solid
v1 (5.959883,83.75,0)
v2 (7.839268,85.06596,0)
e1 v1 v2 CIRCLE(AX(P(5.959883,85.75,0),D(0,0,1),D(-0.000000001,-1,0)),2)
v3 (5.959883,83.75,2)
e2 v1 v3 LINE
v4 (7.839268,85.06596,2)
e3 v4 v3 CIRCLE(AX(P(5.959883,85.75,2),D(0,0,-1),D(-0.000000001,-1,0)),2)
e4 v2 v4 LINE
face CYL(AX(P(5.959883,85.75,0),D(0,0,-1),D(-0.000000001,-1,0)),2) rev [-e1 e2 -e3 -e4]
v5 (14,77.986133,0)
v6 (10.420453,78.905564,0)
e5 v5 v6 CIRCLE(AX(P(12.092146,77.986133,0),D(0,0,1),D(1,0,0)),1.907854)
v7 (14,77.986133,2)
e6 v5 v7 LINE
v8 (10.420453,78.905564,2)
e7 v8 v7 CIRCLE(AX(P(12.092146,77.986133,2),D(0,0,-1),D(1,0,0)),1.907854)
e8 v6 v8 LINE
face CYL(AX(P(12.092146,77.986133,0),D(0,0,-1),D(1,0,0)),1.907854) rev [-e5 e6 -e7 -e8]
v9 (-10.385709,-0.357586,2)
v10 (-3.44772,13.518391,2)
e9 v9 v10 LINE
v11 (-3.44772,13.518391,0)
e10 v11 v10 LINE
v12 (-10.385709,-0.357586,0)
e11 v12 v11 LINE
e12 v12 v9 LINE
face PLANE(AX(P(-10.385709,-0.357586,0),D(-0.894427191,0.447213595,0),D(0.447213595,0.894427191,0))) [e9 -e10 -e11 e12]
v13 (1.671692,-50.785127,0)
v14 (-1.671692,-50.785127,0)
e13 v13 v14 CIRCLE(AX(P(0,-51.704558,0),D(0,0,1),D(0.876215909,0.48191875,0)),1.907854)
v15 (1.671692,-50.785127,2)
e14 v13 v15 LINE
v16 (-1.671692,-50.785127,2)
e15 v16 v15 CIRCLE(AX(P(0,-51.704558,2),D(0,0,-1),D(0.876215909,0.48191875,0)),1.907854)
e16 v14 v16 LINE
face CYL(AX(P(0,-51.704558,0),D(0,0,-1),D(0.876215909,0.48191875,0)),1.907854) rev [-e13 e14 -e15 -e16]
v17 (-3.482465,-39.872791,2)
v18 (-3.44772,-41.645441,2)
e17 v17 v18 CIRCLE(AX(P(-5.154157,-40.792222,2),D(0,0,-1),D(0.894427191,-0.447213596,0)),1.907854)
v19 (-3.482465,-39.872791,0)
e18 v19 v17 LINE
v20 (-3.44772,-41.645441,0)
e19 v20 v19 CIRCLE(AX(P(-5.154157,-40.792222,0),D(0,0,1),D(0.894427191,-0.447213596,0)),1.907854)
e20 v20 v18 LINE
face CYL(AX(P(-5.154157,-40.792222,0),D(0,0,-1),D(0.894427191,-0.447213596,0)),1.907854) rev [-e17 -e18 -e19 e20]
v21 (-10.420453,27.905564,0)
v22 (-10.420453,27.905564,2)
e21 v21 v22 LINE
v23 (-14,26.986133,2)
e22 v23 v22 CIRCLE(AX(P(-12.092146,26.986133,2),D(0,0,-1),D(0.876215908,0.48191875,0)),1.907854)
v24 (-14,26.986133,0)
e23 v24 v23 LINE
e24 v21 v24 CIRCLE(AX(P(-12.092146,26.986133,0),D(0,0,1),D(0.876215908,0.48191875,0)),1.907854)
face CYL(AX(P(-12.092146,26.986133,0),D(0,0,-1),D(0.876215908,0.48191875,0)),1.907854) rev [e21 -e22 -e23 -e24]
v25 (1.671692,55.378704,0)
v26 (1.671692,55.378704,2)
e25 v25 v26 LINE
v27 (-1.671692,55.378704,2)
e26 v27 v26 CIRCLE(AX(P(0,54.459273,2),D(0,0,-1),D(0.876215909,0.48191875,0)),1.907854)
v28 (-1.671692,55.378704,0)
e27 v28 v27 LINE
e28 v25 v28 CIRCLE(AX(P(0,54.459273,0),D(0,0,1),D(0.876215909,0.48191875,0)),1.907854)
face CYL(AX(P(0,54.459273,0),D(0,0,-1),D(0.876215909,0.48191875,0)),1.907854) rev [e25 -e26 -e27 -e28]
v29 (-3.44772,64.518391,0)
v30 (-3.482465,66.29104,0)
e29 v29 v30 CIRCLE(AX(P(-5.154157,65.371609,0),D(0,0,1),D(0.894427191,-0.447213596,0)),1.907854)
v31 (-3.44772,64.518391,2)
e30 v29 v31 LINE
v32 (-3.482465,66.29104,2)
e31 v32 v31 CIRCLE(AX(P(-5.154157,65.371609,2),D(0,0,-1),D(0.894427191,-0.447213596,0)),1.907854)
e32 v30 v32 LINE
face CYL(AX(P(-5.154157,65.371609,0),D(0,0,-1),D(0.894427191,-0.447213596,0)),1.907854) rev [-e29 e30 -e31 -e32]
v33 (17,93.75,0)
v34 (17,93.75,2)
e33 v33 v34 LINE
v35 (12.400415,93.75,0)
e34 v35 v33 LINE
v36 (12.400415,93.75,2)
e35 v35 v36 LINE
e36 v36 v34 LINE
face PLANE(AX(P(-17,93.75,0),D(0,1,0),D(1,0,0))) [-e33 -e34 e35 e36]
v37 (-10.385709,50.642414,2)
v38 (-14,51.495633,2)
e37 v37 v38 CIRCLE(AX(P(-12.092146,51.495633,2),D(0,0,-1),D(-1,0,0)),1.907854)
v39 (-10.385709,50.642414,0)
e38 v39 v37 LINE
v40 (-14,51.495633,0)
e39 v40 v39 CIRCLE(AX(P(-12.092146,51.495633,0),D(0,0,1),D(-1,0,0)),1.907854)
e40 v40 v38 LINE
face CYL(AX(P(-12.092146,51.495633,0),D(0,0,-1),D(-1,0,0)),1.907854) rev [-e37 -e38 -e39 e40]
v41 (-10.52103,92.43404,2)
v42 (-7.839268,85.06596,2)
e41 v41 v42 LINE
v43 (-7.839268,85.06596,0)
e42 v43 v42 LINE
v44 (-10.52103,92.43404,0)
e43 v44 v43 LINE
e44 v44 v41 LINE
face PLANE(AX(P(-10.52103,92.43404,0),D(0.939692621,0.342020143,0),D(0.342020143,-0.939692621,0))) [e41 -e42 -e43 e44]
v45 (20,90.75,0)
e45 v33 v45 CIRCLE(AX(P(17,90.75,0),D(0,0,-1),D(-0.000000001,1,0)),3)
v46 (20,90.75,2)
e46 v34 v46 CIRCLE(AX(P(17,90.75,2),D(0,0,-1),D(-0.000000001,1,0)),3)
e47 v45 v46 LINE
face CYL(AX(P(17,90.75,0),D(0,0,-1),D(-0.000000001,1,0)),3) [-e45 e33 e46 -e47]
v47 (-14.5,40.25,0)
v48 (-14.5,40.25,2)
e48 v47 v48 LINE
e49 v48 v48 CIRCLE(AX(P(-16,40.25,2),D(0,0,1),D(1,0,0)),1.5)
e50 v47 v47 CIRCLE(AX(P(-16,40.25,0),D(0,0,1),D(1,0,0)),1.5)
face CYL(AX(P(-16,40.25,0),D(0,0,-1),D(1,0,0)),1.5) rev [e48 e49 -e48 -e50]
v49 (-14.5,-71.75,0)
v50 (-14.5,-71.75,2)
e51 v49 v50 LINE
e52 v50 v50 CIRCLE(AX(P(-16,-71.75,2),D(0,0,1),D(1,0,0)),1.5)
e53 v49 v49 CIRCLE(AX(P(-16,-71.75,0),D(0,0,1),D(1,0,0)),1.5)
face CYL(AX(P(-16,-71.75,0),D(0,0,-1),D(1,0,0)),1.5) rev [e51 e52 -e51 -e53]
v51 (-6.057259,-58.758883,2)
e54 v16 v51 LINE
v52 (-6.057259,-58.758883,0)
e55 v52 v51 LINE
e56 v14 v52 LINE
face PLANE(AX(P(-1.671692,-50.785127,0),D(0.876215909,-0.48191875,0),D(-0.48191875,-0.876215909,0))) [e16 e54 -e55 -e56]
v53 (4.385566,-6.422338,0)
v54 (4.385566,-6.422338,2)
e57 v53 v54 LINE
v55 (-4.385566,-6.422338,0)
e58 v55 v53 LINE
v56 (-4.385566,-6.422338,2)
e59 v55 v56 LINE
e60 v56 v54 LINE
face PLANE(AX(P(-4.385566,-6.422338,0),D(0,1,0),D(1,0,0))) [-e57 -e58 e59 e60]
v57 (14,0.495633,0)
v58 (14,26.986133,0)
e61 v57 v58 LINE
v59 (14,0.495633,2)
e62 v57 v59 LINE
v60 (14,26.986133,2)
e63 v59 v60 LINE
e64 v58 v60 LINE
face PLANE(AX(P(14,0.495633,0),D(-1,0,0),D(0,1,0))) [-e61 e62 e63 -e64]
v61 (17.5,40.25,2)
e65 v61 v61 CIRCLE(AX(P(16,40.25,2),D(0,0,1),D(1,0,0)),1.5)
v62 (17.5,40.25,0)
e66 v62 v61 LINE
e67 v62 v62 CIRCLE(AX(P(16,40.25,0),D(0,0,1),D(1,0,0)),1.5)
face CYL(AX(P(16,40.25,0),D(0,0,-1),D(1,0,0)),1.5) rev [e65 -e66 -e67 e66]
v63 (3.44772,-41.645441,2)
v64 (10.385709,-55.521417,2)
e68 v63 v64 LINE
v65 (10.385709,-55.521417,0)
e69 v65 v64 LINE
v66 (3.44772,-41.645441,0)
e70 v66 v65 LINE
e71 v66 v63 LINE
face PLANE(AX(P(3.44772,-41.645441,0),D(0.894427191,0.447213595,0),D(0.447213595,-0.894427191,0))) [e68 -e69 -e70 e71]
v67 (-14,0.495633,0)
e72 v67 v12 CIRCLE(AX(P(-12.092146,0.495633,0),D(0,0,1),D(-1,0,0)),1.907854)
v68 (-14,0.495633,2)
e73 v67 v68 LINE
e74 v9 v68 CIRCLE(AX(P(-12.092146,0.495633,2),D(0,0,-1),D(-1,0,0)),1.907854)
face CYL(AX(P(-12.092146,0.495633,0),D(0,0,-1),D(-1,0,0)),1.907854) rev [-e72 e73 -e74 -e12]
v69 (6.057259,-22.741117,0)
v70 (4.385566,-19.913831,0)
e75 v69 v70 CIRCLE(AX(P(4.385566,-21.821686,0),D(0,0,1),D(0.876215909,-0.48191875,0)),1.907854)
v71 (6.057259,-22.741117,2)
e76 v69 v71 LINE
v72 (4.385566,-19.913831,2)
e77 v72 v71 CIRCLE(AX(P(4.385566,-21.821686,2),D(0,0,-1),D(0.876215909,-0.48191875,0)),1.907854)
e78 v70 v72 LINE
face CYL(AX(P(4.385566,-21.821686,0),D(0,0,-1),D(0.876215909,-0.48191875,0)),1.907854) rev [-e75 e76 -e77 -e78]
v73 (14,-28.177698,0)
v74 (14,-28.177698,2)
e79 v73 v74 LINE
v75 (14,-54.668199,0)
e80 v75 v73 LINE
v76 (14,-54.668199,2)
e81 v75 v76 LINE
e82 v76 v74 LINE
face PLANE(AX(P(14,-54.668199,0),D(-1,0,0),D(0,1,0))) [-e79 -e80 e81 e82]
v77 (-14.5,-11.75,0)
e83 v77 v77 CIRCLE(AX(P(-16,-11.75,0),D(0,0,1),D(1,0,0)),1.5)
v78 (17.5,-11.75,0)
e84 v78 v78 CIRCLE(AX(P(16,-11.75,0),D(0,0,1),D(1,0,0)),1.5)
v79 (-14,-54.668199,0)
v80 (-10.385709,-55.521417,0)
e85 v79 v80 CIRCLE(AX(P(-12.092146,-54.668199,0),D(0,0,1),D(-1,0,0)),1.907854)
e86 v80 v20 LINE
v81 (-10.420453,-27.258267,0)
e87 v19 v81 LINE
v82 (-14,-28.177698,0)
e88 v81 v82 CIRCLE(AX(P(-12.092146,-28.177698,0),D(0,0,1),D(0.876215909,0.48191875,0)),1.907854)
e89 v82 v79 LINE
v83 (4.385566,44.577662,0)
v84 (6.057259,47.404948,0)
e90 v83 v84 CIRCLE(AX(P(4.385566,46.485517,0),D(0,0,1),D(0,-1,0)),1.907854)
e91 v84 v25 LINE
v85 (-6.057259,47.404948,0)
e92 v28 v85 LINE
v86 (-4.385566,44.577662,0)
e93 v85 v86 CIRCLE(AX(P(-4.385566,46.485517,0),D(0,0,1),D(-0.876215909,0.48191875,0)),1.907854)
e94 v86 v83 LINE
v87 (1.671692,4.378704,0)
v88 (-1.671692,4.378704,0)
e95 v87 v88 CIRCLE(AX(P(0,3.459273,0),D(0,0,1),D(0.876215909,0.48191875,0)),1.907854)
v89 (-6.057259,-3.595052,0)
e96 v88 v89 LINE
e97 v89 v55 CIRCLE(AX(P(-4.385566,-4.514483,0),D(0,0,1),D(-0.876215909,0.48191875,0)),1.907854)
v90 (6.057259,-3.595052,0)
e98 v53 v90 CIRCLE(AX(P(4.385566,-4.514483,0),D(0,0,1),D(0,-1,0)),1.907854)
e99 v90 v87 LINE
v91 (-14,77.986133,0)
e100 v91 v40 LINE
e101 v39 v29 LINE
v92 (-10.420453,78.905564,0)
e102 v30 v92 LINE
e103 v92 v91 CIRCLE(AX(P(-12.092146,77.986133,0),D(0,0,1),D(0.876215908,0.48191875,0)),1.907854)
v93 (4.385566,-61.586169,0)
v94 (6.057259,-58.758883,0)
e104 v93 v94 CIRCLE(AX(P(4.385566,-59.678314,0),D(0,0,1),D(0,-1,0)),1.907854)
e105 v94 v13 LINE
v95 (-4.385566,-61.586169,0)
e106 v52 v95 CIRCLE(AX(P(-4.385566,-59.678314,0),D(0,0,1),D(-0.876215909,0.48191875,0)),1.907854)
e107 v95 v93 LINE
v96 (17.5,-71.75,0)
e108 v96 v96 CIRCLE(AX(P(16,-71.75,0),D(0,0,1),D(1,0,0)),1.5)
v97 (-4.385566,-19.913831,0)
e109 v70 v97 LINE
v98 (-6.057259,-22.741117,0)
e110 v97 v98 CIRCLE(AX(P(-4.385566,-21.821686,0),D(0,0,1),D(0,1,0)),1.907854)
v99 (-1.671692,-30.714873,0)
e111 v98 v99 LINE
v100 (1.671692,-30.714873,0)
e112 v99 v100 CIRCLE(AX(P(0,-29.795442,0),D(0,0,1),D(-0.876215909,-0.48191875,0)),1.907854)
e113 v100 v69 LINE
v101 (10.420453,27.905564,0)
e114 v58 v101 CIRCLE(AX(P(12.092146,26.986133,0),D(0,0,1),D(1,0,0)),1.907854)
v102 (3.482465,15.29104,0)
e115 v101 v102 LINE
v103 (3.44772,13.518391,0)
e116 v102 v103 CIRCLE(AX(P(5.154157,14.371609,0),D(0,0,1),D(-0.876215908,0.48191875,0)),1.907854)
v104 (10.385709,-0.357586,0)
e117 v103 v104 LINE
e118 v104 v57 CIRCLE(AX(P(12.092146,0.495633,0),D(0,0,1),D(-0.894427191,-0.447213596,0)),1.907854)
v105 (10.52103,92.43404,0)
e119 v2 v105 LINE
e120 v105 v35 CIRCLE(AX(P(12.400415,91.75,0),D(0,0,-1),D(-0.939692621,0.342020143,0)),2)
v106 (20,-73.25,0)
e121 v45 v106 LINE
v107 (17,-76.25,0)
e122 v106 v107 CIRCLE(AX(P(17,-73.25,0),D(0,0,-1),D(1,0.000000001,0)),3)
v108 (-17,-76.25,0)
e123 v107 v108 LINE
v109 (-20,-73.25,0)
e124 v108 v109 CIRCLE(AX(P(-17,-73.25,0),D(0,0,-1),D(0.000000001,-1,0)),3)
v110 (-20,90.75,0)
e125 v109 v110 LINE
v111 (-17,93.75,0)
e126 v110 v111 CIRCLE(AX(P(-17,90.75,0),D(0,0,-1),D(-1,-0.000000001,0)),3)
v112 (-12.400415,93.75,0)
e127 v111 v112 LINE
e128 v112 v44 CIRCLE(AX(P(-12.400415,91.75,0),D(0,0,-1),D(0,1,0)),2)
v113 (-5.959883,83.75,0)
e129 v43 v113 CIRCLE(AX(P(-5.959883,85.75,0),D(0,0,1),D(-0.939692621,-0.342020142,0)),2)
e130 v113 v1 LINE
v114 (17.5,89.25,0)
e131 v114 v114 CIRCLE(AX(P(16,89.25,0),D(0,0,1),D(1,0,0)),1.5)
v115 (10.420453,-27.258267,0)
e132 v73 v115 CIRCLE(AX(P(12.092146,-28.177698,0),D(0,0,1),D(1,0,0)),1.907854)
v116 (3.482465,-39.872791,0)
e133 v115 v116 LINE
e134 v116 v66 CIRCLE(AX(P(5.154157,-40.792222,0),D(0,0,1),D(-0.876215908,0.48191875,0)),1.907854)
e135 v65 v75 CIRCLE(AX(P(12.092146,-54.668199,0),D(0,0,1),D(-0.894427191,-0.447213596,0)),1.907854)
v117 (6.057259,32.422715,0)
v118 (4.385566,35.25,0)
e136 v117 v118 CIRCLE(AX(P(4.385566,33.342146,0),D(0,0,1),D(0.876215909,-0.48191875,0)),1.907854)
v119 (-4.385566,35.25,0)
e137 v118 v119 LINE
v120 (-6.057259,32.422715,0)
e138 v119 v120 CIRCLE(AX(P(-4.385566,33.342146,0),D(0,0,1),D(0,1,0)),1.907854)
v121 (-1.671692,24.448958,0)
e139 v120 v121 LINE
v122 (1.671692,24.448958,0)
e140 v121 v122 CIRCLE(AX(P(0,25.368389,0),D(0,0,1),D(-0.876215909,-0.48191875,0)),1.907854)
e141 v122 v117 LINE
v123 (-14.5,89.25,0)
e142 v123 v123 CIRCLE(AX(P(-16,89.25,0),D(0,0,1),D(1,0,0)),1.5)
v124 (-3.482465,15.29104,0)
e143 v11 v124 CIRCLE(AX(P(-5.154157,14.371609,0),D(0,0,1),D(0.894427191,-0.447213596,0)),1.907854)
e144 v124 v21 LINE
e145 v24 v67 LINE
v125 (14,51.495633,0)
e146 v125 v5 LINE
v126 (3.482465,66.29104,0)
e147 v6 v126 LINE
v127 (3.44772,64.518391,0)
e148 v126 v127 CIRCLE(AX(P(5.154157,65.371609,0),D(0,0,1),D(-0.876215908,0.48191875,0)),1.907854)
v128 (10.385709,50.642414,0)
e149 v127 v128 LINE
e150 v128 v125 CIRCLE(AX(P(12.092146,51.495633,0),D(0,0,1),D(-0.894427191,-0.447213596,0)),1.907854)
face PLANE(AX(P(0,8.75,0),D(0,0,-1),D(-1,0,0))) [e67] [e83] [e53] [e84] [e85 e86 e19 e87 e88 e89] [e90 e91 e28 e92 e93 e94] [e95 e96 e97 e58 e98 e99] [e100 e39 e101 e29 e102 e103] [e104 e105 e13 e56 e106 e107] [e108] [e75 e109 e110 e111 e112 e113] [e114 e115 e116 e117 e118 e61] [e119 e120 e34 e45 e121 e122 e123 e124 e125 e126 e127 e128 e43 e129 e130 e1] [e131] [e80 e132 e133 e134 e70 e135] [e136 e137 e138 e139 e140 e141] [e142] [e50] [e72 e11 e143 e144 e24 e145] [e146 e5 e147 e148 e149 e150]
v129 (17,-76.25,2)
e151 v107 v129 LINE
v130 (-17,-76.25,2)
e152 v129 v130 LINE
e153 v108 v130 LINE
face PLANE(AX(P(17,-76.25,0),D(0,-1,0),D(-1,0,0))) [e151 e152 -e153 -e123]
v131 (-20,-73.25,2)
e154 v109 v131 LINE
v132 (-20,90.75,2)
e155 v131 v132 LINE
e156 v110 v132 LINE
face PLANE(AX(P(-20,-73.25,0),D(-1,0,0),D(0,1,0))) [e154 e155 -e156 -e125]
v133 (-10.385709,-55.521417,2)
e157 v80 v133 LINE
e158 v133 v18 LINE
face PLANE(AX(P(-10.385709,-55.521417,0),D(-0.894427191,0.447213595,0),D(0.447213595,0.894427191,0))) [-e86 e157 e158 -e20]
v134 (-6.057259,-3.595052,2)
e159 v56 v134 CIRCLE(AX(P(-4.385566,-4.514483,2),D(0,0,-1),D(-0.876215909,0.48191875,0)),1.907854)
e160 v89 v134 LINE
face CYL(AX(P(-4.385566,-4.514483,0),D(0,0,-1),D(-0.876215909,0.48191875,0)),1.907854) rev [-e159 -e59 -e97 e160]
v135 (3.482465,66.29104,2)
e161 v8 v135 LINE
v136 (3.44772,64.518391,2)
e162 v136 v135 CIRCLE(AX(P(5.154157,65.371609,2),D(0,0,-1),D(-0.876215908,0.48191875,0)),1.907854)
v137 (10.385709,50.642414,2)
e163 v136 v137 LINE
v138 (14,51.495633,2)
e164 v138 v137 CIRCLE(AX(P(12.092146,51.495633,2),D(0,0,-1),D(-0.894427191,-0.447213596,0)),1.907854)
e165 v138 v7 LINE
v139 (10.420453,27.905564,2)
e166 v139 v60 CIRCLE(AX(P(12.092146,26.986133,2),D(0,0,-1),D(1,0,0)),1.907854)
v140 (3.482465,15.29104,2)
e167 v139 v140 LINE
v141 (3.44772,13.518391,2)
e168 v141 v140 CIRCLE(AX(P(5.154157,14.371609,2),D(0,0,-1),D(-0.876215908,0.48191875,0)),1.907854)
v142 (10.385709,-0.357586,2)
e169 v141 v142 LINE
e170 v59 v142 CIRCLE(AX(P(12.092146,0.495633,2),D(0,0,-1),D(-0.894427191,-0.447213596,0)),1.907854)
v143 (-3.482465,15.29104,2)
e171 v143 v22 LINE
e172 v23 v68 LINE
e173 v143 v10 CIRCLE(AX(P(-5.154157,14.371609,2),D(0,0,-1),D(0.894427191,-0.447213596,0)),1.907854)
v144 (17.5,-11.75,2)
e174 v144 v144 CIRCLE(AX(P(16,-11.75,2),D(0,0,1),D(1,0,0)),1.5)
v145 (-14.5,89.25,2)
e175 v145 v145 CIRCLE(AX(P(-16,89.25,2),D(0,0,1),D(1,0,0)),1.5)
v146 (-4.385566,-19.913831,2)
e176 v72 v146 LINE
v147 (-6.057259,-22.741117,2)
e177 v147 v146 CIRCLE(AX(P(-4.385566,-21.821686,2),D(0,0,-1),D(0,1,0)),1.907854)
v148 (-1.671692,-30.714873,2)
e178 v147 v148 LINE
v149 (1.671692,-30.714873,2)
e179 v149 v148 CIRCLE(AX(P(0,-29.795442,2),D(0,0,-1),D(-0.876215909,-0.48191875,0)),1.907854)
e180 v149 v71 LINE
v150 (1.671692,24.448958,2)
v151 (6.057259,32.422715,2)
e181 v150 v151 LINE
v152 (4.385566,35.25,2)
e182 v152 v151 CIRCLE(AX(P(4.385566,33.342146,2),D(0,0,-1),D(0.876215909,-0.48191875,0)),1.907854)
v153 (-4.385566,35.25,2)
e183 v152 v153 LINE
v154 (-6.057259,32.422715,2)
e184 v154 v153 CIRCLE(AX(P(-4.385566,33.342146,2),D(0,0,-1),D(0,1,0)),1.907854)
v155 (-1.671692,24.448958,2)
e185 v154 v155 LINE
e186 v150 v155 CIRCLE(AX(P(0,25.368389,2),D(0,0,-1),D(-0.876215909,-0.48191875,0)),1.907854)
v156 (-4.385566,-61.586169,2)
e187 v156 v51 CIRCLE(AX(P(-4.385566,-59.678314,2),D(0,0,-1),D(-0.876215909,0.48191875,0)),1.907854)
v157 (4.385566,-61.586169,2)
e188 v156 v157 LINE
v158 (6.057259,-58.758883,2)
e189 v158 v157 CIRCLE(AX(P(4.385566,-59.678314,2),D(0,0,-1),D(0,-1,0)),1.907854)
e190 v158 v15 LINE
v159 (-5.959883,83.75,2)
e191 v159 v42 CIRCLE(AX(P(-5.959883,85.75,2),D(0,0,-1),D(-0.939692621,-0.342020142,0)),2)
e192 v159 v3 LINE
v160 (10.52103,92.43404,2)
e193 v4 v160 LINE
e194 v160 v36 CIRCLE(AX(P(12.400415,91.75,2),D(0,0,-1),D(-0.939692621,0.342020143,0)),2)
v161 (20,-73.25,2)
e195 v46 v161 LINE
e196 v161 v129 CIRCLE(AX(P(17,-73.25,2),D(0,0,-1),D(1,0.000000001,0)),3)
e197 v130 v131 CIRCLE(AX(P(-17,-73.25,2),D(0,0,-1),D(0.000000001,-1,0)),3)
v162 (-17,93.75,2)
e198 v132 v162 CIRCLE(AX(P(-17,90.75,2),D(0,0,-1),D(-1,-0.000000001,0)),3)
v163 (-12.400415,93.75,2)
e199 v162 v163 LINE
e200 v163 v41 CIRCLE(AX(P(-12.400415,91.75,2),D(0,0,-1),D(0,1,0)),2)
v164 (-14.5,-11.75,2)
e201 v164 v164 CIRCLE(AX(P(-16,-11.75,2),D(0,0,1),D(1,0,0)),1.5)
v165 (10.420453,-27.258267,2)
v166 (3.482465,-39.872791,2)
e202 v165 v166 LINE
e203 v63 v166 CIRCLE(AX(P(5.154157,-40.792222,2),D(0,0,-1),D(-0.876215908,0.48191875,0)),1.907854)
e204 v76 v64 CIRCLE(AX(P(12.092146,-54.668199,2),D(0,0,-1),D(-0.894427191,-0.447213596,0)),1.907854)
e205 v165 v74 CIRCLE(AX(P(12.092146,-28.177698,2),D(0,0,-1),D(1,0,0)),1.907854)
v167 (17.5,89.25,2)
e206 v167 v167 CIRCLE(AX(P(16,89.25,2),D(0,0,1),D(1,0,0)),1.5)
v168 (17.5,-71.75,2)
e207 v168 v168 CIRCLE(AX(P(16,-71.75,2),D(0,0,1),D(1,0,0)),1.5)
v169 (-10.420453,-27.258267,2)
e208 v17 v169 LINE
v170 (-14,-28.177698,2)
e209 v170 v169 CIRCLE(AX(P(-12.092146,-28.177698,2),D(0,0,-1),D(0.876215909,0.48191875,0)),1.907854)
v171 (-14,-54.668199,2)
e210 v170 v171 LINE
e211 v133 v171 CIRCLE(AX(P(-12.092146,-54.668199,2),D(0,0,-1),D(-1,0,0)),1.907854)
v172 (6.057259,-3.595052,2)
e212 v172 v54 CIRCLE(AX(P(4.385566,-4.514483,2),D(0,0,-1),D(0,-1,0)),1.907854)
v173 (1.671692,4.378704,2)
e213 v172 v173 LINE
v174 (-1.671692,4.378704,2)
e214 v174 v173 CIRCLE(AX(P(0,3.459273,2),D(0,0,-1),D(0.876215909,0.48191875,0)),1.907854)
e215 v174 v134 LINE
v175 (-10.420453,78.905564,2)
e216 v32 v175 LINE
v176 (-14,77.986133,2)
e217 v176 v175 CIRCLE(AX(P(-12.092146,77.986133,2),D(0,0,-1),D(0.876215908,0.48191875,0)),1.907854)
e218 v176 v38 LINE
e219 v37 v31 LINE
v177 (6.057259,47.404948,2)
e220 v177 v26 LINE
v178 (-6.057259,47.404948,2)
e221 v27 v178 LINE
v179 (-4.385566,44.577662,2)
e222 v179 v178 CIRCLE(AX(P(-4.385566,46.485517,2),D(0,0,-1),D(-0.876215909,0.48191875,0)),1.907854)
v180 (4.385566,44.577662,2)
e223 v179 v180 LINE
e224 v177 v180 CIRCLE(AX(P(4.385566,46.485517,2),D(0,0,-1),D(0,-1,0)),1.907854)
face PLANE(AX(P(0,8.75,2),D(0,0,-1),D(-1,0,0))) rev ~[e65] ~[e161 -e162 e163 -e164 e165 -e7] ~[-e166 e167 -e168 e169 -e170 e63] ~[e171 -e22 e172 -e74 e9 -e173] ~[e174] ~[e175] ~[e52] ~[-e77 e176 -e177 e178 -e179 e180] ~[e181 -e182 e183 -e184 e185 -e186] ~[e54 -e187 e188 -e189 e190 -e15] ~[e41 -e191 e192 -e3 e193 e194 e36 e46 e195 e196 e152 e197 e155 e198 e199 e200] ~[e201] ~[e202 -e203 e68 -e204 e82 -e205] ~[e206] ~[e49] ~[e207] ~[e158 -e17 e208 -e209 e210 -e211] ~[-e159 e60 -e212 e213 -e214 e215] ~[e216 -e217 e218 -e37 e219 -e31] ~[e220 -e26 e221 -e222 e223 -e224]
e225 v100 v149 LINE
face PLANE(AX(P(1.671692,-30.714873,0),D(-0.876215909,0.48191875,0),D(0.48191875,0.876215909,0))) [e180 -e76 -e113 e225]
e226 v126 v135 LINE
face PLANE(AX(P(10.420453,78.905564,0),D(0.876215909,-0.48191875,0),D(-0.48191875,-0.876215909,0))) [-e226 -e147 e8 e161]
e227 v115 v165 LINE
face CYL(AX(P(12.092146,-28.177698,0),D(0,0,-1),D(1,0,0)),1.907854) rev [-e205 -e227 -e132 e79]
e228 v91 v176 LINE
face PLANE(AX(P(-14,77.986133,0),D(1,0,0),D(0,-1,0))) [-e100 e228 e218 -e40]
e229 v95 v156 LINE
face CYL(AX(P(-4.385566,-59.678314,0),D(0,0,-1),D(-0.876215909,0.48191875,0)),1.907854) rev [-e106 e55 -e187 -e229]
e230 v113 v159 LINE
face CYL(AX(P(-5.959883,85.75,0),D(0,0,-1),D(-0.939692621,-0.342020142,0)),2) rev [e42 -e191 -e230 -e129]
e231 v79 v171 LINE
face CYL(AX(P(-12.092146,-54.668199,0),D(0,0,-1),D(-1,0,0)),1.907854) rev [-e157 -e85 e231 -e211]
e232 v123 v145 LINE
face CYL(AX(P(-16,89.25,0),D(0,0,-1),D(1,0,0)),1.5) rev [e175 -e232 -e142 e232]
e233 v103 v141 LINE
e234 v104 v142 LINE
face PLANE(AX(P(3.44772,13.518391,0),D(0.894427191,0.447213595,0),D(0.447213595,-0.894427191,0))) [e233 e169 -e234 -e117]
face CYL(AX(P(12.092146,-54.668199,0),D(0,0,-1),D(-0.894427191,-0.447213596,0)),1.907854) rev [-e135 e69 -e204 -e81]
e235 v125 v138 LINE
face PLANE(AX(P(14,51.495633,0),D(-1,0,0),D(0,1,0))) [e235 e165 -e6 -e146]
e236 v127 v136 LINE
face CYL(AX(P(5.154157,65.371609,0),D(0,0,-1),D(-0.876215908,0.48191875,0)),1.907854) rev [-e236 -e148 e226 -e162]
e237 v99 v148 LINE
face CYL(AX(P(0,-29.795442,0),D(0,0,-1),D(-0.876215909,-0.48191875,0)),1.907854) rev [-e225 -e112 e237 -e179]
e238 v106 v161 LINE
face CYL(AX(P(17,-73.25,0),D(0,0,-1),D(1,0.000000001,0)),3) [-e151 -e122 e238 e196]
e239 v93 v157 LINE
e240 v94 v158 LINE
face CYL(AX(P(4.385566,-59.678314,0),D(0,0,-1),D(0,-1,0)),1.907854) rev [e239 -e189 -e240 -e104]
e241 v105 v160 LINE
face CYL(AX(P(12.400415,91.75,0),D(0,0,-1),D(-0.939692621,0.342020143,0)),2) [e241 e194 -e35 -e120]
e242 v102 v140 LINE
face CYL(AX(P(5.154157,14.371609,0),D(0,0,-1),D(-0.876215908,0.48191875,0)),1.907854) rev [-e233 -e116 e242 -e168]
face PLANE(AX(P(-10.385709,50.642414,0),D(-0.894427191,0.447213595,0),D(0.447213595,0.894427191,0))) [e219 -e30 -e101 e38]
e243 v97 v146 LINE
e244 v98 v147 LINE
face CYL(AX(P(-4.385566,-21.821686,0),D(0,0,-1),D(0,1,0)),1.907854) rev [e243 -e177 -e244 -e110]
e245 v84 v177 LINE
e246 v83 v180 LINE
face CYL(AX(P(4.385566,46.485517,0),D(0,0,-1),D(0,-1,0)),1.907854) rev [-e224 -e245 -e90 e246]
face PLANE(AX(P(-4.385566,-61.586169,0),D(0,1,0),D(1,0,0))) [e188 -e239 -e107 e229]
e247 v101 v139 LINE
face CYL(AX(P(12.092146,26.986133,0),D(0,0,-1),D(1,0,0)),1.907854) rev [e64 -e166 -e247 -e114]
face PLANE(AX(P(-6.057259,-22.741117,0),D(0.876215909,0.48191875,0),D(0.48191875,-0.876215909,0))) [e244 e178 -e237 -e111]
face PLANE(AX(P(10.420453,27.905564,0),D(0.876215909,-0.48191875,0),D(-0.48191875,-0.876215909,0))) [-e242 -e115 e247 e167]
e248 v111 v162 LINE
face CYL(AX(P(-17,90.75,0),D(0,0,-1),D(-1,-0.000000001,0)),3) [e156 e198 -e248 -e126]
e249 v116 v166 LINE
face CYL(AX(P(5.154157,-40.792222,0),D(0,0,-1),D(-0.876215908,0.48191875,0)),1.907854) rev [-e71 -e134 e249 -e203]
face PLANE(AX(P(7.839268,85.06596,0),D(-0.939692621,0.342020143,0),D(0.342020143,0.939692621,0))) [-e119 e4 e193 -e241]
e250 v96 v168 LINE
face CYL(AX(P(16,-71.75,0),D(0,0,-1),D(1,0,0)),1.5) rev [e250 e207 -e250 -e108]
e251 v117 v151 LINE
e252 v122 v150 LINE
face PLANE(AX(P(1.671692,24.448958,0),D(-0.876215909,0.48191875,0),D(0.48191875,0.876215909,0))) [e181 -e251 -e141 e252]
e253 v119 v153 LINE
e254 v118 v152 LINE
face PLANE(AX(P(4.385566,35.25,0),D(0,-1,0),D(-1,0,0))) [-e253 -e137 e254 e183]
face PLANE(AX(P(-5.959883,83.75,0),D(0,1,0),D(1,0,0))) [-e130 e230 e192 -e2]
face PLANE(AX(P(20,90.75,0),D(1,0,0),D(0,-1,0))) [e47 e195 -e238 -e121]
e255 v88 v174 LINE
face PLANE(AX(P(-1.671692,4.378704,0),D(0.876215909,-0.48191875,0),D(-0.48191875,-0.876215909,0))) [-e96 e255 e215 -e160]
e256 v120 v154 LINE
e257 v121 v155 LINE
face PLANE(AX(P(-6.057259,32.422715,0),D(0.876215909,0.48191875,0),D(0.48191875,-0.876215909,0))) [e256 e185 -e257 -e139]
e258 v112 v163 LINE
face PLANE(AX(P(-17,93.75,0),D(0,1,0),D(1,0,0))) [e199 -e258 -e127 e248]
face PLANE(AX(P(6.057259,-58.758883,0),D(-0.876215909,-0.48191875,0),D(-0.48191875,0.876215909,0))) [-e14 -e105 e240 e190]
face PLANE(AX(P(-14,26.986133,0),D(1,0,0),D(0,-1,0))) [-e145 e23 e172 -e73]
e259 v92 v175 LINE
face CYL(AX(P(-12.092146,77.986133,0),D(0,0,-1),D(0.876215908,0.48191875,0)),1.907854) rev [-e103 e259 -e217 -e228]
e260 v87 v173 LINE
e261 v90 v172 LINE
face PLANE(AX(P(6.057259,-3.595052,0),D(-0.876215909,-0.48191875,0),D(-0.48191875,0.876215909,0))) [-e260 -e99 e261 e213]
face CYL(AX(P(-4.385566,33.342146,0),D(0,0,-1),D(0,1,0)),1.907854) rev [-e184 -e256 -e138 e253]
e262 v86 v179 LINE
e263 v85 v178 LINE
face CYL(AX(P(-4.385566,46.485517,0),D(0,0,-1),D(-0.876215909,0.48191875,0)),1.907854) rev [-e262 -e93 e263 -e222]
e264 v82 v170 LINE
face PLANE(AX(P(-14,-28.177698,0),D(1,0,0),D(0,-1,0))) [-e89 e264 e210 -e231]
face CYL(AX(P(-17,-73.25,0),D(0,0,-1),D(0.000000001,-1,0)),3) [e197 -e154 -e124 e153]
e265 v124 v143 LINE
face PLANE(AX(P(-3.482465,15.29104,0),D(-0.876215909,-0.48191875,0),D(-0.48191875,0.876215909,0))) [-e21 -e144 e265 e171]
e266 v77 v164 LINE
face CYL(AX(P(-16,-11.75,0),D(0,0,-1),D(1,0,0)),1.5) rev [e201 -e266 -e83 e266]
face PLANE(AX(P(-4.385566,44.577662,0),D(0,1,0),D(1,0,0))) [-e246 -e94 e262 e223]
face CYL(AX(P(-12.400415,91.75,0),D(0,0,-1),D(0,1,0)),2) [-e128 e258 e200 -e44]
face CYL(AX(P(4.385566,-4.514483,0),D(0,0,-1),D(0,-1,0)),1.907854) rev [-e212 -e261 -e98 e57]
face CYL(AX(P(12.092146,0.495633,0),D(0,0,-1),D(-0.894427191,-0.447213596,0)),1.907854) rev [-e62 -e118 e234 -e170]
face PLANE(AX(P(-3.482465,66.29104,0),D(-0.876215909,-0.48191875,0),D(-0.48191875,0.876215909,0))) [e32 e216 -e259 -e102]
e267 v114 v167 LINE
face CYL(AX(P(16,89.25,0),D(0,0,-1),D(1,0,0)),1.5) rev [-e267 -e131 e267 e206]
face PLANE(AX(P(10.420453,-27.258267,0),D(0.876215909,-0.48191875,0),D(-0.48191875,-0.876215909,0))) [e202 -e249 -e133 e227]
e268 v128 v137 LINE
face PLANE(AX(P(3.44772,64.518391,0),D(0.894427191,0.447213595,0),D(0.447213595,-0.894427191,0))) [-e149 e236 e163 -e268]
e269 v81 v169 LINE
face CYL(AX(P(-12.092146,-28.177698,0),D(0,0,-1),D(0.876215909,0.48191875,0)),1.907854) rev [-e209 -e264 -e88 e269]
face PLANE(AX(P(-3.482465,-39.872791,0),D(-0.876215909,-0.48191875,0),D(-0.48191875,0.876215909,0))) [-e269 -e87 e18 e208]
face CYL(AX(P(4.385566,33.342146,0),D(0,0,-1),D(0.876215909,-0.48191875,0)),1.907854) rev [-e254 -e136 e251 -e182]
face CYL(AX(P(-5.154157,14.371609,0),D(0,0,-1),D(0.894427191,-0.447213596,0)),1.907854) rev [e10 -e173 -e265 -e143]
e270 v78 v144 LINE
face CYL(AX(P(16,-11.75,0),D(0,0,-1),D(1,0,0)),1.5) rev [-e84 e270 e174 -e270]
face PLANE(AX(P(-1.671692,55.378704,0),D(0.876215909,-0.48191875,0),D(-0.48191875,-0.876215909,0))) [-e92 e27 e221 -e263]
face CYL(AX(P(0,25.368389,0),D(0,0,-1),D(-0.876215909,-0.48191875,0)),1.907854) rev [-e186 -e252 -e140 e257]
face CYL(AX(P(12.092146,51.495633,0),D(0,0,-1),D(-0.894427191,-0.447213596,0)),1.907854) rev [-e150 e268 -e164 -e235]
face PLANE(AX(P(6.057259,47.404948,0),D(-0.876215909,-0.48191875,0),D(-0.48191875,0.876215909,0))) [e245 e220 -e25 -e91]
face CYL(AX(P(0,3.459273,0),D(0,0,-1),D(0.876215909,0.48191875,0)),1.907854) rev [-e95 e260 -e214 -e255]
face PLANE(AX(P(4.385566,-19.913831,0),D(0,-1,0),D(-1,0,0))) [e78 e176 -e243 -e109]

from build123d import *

# Parameters (mm, degrees)
CROQUIS1_R                 = 1.5
SALIENTE_EXTRUIR1_DEPTH    = 2
CORTAR_EXTRUIR1_DEPTH      = 96.880459427
CORTAR_EXTRUIR1_DEPTH_BACK = 2


with BuildPart() as part:
    # Croquis1 → Saliente-Extruir1 (new body)
    with BuildSketch(Plane.XY):
        with BuildLine():
            Line((-17, 93.75), (17, 93.75))
            ThreePointArc((17, 93.75), (19.121320344, 92.871320344), (20, 90.75))
            Line((20, 90.75), (20, -73.25))
            ThreePointArc((20, -73.25), (19.121320344, -75.371320344), (17, -76.25))
            Line((17, -76.25), (-17, -76.25))
            ThreePointArc((-17, -76.25), (-19.121320344, -75.371320344), (-20, -73.25))
            Line((-20, -73.25), (-20, 90.75))
            ThreePointArc((-20, 90.75), (-19.121320344, 92.871320344), (-17, 93.75))
        make_face()
        with Locations((-16, 89.25)):
            Circle(CROQUIS1_R, mode=Mode.SUBTRACT)
        with Locations((16, 89.25)):
            Circle(CROQUIS1_R, mode=Mode.SUBTRACT)
        with Locations((-16, 40.25)):
            Circle(CROQUIS1_R, mode=Mode.SUBTRACT)
        with Locations((16, 40.25)):
            Circle(CROQUIS1_R, mode=Mode.SUBTRACT)
        with Locations((-16, -11.75)):
            Circle(CROQUIS1_R, mode=Mode.SUBTRACT)
        with Locations((16, -11.75)):
            Circle(CROQUIS1_R, mode=Mode.SUBTRACT)
        with Locations((-16, -71.75)):
            Circle(CROQUIS1_R, mode=Mode.SUBTRACT)
        with Locations((16, -71.75)):
            Circle(CROQUIS1_R, mode=Mode.SUBTRACT)
    extrude(amount=SALIENTE_EXTRUIR1_DEPTH)

    # Croquis2 → Cortar-Extruir1 (cut, two sides: drawn at the far end of the back side and taken through both)
    with BuildSketch(Plane.XY.offset(2).offset(-CORTAR_EXTRUIR1_DEPTH_BACK)):
        with BuildLine():
            Line((12.400415076, 93.75), (-12.400415076, 93.75))
            ThreePointArc((-12.400415076, 93.75), (-11.253262204, 93.388304089), (-10.521029835, 92.434040287))
            Line((-10.521029835, 92.434040287), (-7.839267822, 85.065959713))
            ThreePointArc((-7.839267822, 85.065959713), (-7.107035454, 84.111695911), (-5.959882581, 83.75))
            Line((-5.959882581, 83.75), (5.959882581, 83.75))
            ThreePointArc((5.959882581, 83.75), (7.107035454, 84.111695911), (7.839267822, 85.065959713))
            Line((7.839267822, 85.065959713), (10.521029835, 92.434040287))
            ThreePointArc((10.521029835, 92.434040287), (11.253262204, 93.388304089), (12.400415076, 93.75))
        make_face()
        with BuildLine():
            ThreePointArc((-10.42045304, -27.2582672), (-12.566783681, -26.329827013), (-14, -28.177698054))
            Line((-14, -28.177698054), (-14, -54.668198657))
            ThreePointArc((-14, -54.668198657), (-12.530480645, -56.525016119), (-10.385708563, -55.521417127))
            Line((-10.385708563, -55.521417127), (-3.44772031, -41.64544062))
            ThreePointArc((-3.44772031, -41.64544062), (-3.246669118, -40.754834791), (-3.482464787, -39.872791296))
            Line((-3.482464787, -39.872791296), (-10.42045304, -27.2582672))
        make_face()
        with BuildLine():
            Line((10.42045304, -27.2582672), (3.482464787, -39.872791296))
            ThreePointArc((3.482464787, -39.872791296), (3.246669118, -40.754834791), (3.44772031, -41.64544062))
            Line((3.44772031, -41.64544062), (10.385708563, -55.521417127))
            ThreePointArc((10.385708563, -55.521417127), (12.530480645, -56.525016119), (14, -54.668198657))
            Line((14, -54.668198657), (14, -28.177698054))
            ThreePointArc((14, -28.177698054), (12.566783681, -26.329827013), (10.42045304, -27.2582672))
        make_face()
        with BuildLine():
            ThreePointArc((-4.385566091, -19.91383123), (-6.02782811, -20.850663459), (-6.057258554, -22.741116582))
            Line((-6.057258554, -22.741116582), (-1.671692462, -30.714873112))
            ThreePointArc((-1.671692462, -30.714873112), (0, -31.703296755), (1.671692462, -30.714873112))
            Line((1.671692462, -30.714873112), (6.057258554, -22.741116582))
            ThreePointArc((6.057258554, -22.741116582), (6.02782811, -20.850663459), (4.385566091, -19.91383123))
            Line((4.385566091, -19.91383123), (-4.385566091, -19.91383123))
        make_face()
        with BuildLine():
            Line((-4.385566091, -61.58616877), (4.385566091, -61.58616877))
            ThreePointArc((4.385566091, -61.58616877), (6.02782811, -60.649336541), (6.057258554, -58.758883418))
            Line((6.057258554, -58.758883418), (1.671692462, -50.785126888))
            ThreePointArc((1.671692462, -50.785126888), (0, -49.796703245), (-1.671692462, -50.785126888))
            Line((-1.671692462, -50.785126888), (-6.057258554, -58.758883418))
            ThreePointArc((-6.057258554, -58.758883418), (-6.02782811, -60.649336541), (-4.385566091, -61.58616877))
        make_face()
        with BuildLine():
            ThreePointArc((-10.42045304, 27.905564031), (-12.566783681, 28.834004217), (-14, 26.986133176))
            Line((-14, 26.986133176), (-14, 0.495632573))
            ThreePointArc((-14, 0.495632573), (-12.530480645, -1.361184889), (-10.385708563, -0.357585897))
            Line((-10.385708563, -0.357585897), (-3.44772031, 13.51839061))
            ThreePointArc((-3.44772031, 13.51839061), (-3.246669118, 14.408996439), (-3.482464787, 15.291039934))
            Line((-3.482464787, 15.291039934), (-10.42045304, 27.905564031))
        make_face()
        with BuildLine():
            Line((10.42045304, 27.905564031), (3.482464787, 15.291039934))
            ThreePointArc((3.482464787, 15.291039934), (3.246669118, 14.408996439), (3.44772031, 13.51839061))
            Line((3.44772031, 13.51839061), (10.385708563, -0.357585897))
            ThreePointArc((10.385708563, -0.357585897), (12.530480645, -1.361184889), (14, 0.495632573))
            Line((14, 0.495632573), (14, 26.986133176))
            ThreePointArc((14, 26.986133176), (12.566783681, 28.834004217), (10.42045304, 27.905564031))
        make_face()
        with BuildLine():
            ThreePointArc((-4.385566091, 35.25), (-6.02782811, 34.313167771), (-6.057258554, 32.422714648))
            Line((-6.057258554, 32.422714648), (-1.671692462, 24.448958118))
            ThreePointArc((-1.671692462, 24.448958118), (0, 23.460534475), (1.671692462, 24.448958118))
            Line((1.671692462, 24.448958118), (6.057258554, 32.422714648))
            ThreePointArc((6.057258554, 32.422714648), (6.02782811, 34.313167771), (4.385566091, 35.25))
            Line((4.385566091, 35.25), (-4.385566091, 35.25))
        make_face()
        with BuildLine():
            Line((-4.385566091, -6.42233754), (4.385566091, -6.42233754))
            ThreePointArc((4.385566091, -6.42233754), (6.02782811, -5.485505311), (6.057258554, -3.595052188))
            Line((6.057258554, -3.595052188), (1.671692462, 4.378704342))
            ThreePointArc((1.671692462, 4.378704342), (0, 5.367127985), (-1.671692462, 4.378704342))
            Line((-1.671692462, 4.378704342), (-6.057258554, -3.595052188))
            ThreePointArc((-6.057258554, -3.595052188), (-6.02782811, -5.485505311), (-4.385566091, -6.42233754))
        make_face()
        with BuildLine():
            ThreePointArc((-10.42045304, 78.905564031), (-12.566783681, 79.834004217), (-14, 77.986133176))
            Line((-14, 77.986133176), (-14, 51.495632573))
            ThreePointArc((-14, 51.495632573), (-12.530480645, 49.638815111), (-10.385708563, 50.642414103))
            Line((-10.385708563, 50.642414103), (-3.44772031, 64.51839061))
            ThreePointArc((-3.44772031, 64.51839061), (-3.246669118, 65.408996439), (-3.482464787, 66.291039934))
            Line((-3.482464787, 66.291039934), (-10.42045304, 78.905564031))
        make_face()
        with BuildLine():
            Line((10.42045304, 78.905564031), (3.482464787, 66.291039934))
            ThreePointArc((3.482464787, 66.291039934), (3.246669118, 65.408996439), (3.44772031, 64.51839061))
            Line((3.44772031, 64.51839061), (10.385708563, 50.642414103))
            ThreePointArc((10.385708563, 50.642414103), (12.530480645, 49.638815111), (14, 51.495632573))
            Line((14, 51.495632573), (14, 77.986133176))
            ThreePointArc((14, 77.986133176), (12.566783681, 79.834004217), (10.42045304, 78.905564031))
        make_face()
        with BuildLine():
            Line((-4.385566091, 44.57766246), (4.385566091, 44.57766246))
            ThreePointArc((4.385566091, 44.57766246), (6.02782811, 45.514494689), (6.057258554, 47.404947812))
            Line((6.057258554, 47.404947812), (1.671692462, 55.378704342))
            ThreePointArc((1.671692462, 55.378704342), (0, 56.367127985), (-1.671692462, 55.378704342))
            Line((-1.671692462, 55.378704342), (-6.057258554, 47.404947812))
            ThreePointArc((-6.057258554, 47.404947812), (-6.02782811, 45.514494689), (-4.385566091, 44.57766246))
        make_face()
    extrude(amount=CORTAR_EXTRUIR1_DEPTH + CORTAR_EXTRUIR1_DEPTH_BACK, mode=Mode.SUBTRACT)


solid = part.part
